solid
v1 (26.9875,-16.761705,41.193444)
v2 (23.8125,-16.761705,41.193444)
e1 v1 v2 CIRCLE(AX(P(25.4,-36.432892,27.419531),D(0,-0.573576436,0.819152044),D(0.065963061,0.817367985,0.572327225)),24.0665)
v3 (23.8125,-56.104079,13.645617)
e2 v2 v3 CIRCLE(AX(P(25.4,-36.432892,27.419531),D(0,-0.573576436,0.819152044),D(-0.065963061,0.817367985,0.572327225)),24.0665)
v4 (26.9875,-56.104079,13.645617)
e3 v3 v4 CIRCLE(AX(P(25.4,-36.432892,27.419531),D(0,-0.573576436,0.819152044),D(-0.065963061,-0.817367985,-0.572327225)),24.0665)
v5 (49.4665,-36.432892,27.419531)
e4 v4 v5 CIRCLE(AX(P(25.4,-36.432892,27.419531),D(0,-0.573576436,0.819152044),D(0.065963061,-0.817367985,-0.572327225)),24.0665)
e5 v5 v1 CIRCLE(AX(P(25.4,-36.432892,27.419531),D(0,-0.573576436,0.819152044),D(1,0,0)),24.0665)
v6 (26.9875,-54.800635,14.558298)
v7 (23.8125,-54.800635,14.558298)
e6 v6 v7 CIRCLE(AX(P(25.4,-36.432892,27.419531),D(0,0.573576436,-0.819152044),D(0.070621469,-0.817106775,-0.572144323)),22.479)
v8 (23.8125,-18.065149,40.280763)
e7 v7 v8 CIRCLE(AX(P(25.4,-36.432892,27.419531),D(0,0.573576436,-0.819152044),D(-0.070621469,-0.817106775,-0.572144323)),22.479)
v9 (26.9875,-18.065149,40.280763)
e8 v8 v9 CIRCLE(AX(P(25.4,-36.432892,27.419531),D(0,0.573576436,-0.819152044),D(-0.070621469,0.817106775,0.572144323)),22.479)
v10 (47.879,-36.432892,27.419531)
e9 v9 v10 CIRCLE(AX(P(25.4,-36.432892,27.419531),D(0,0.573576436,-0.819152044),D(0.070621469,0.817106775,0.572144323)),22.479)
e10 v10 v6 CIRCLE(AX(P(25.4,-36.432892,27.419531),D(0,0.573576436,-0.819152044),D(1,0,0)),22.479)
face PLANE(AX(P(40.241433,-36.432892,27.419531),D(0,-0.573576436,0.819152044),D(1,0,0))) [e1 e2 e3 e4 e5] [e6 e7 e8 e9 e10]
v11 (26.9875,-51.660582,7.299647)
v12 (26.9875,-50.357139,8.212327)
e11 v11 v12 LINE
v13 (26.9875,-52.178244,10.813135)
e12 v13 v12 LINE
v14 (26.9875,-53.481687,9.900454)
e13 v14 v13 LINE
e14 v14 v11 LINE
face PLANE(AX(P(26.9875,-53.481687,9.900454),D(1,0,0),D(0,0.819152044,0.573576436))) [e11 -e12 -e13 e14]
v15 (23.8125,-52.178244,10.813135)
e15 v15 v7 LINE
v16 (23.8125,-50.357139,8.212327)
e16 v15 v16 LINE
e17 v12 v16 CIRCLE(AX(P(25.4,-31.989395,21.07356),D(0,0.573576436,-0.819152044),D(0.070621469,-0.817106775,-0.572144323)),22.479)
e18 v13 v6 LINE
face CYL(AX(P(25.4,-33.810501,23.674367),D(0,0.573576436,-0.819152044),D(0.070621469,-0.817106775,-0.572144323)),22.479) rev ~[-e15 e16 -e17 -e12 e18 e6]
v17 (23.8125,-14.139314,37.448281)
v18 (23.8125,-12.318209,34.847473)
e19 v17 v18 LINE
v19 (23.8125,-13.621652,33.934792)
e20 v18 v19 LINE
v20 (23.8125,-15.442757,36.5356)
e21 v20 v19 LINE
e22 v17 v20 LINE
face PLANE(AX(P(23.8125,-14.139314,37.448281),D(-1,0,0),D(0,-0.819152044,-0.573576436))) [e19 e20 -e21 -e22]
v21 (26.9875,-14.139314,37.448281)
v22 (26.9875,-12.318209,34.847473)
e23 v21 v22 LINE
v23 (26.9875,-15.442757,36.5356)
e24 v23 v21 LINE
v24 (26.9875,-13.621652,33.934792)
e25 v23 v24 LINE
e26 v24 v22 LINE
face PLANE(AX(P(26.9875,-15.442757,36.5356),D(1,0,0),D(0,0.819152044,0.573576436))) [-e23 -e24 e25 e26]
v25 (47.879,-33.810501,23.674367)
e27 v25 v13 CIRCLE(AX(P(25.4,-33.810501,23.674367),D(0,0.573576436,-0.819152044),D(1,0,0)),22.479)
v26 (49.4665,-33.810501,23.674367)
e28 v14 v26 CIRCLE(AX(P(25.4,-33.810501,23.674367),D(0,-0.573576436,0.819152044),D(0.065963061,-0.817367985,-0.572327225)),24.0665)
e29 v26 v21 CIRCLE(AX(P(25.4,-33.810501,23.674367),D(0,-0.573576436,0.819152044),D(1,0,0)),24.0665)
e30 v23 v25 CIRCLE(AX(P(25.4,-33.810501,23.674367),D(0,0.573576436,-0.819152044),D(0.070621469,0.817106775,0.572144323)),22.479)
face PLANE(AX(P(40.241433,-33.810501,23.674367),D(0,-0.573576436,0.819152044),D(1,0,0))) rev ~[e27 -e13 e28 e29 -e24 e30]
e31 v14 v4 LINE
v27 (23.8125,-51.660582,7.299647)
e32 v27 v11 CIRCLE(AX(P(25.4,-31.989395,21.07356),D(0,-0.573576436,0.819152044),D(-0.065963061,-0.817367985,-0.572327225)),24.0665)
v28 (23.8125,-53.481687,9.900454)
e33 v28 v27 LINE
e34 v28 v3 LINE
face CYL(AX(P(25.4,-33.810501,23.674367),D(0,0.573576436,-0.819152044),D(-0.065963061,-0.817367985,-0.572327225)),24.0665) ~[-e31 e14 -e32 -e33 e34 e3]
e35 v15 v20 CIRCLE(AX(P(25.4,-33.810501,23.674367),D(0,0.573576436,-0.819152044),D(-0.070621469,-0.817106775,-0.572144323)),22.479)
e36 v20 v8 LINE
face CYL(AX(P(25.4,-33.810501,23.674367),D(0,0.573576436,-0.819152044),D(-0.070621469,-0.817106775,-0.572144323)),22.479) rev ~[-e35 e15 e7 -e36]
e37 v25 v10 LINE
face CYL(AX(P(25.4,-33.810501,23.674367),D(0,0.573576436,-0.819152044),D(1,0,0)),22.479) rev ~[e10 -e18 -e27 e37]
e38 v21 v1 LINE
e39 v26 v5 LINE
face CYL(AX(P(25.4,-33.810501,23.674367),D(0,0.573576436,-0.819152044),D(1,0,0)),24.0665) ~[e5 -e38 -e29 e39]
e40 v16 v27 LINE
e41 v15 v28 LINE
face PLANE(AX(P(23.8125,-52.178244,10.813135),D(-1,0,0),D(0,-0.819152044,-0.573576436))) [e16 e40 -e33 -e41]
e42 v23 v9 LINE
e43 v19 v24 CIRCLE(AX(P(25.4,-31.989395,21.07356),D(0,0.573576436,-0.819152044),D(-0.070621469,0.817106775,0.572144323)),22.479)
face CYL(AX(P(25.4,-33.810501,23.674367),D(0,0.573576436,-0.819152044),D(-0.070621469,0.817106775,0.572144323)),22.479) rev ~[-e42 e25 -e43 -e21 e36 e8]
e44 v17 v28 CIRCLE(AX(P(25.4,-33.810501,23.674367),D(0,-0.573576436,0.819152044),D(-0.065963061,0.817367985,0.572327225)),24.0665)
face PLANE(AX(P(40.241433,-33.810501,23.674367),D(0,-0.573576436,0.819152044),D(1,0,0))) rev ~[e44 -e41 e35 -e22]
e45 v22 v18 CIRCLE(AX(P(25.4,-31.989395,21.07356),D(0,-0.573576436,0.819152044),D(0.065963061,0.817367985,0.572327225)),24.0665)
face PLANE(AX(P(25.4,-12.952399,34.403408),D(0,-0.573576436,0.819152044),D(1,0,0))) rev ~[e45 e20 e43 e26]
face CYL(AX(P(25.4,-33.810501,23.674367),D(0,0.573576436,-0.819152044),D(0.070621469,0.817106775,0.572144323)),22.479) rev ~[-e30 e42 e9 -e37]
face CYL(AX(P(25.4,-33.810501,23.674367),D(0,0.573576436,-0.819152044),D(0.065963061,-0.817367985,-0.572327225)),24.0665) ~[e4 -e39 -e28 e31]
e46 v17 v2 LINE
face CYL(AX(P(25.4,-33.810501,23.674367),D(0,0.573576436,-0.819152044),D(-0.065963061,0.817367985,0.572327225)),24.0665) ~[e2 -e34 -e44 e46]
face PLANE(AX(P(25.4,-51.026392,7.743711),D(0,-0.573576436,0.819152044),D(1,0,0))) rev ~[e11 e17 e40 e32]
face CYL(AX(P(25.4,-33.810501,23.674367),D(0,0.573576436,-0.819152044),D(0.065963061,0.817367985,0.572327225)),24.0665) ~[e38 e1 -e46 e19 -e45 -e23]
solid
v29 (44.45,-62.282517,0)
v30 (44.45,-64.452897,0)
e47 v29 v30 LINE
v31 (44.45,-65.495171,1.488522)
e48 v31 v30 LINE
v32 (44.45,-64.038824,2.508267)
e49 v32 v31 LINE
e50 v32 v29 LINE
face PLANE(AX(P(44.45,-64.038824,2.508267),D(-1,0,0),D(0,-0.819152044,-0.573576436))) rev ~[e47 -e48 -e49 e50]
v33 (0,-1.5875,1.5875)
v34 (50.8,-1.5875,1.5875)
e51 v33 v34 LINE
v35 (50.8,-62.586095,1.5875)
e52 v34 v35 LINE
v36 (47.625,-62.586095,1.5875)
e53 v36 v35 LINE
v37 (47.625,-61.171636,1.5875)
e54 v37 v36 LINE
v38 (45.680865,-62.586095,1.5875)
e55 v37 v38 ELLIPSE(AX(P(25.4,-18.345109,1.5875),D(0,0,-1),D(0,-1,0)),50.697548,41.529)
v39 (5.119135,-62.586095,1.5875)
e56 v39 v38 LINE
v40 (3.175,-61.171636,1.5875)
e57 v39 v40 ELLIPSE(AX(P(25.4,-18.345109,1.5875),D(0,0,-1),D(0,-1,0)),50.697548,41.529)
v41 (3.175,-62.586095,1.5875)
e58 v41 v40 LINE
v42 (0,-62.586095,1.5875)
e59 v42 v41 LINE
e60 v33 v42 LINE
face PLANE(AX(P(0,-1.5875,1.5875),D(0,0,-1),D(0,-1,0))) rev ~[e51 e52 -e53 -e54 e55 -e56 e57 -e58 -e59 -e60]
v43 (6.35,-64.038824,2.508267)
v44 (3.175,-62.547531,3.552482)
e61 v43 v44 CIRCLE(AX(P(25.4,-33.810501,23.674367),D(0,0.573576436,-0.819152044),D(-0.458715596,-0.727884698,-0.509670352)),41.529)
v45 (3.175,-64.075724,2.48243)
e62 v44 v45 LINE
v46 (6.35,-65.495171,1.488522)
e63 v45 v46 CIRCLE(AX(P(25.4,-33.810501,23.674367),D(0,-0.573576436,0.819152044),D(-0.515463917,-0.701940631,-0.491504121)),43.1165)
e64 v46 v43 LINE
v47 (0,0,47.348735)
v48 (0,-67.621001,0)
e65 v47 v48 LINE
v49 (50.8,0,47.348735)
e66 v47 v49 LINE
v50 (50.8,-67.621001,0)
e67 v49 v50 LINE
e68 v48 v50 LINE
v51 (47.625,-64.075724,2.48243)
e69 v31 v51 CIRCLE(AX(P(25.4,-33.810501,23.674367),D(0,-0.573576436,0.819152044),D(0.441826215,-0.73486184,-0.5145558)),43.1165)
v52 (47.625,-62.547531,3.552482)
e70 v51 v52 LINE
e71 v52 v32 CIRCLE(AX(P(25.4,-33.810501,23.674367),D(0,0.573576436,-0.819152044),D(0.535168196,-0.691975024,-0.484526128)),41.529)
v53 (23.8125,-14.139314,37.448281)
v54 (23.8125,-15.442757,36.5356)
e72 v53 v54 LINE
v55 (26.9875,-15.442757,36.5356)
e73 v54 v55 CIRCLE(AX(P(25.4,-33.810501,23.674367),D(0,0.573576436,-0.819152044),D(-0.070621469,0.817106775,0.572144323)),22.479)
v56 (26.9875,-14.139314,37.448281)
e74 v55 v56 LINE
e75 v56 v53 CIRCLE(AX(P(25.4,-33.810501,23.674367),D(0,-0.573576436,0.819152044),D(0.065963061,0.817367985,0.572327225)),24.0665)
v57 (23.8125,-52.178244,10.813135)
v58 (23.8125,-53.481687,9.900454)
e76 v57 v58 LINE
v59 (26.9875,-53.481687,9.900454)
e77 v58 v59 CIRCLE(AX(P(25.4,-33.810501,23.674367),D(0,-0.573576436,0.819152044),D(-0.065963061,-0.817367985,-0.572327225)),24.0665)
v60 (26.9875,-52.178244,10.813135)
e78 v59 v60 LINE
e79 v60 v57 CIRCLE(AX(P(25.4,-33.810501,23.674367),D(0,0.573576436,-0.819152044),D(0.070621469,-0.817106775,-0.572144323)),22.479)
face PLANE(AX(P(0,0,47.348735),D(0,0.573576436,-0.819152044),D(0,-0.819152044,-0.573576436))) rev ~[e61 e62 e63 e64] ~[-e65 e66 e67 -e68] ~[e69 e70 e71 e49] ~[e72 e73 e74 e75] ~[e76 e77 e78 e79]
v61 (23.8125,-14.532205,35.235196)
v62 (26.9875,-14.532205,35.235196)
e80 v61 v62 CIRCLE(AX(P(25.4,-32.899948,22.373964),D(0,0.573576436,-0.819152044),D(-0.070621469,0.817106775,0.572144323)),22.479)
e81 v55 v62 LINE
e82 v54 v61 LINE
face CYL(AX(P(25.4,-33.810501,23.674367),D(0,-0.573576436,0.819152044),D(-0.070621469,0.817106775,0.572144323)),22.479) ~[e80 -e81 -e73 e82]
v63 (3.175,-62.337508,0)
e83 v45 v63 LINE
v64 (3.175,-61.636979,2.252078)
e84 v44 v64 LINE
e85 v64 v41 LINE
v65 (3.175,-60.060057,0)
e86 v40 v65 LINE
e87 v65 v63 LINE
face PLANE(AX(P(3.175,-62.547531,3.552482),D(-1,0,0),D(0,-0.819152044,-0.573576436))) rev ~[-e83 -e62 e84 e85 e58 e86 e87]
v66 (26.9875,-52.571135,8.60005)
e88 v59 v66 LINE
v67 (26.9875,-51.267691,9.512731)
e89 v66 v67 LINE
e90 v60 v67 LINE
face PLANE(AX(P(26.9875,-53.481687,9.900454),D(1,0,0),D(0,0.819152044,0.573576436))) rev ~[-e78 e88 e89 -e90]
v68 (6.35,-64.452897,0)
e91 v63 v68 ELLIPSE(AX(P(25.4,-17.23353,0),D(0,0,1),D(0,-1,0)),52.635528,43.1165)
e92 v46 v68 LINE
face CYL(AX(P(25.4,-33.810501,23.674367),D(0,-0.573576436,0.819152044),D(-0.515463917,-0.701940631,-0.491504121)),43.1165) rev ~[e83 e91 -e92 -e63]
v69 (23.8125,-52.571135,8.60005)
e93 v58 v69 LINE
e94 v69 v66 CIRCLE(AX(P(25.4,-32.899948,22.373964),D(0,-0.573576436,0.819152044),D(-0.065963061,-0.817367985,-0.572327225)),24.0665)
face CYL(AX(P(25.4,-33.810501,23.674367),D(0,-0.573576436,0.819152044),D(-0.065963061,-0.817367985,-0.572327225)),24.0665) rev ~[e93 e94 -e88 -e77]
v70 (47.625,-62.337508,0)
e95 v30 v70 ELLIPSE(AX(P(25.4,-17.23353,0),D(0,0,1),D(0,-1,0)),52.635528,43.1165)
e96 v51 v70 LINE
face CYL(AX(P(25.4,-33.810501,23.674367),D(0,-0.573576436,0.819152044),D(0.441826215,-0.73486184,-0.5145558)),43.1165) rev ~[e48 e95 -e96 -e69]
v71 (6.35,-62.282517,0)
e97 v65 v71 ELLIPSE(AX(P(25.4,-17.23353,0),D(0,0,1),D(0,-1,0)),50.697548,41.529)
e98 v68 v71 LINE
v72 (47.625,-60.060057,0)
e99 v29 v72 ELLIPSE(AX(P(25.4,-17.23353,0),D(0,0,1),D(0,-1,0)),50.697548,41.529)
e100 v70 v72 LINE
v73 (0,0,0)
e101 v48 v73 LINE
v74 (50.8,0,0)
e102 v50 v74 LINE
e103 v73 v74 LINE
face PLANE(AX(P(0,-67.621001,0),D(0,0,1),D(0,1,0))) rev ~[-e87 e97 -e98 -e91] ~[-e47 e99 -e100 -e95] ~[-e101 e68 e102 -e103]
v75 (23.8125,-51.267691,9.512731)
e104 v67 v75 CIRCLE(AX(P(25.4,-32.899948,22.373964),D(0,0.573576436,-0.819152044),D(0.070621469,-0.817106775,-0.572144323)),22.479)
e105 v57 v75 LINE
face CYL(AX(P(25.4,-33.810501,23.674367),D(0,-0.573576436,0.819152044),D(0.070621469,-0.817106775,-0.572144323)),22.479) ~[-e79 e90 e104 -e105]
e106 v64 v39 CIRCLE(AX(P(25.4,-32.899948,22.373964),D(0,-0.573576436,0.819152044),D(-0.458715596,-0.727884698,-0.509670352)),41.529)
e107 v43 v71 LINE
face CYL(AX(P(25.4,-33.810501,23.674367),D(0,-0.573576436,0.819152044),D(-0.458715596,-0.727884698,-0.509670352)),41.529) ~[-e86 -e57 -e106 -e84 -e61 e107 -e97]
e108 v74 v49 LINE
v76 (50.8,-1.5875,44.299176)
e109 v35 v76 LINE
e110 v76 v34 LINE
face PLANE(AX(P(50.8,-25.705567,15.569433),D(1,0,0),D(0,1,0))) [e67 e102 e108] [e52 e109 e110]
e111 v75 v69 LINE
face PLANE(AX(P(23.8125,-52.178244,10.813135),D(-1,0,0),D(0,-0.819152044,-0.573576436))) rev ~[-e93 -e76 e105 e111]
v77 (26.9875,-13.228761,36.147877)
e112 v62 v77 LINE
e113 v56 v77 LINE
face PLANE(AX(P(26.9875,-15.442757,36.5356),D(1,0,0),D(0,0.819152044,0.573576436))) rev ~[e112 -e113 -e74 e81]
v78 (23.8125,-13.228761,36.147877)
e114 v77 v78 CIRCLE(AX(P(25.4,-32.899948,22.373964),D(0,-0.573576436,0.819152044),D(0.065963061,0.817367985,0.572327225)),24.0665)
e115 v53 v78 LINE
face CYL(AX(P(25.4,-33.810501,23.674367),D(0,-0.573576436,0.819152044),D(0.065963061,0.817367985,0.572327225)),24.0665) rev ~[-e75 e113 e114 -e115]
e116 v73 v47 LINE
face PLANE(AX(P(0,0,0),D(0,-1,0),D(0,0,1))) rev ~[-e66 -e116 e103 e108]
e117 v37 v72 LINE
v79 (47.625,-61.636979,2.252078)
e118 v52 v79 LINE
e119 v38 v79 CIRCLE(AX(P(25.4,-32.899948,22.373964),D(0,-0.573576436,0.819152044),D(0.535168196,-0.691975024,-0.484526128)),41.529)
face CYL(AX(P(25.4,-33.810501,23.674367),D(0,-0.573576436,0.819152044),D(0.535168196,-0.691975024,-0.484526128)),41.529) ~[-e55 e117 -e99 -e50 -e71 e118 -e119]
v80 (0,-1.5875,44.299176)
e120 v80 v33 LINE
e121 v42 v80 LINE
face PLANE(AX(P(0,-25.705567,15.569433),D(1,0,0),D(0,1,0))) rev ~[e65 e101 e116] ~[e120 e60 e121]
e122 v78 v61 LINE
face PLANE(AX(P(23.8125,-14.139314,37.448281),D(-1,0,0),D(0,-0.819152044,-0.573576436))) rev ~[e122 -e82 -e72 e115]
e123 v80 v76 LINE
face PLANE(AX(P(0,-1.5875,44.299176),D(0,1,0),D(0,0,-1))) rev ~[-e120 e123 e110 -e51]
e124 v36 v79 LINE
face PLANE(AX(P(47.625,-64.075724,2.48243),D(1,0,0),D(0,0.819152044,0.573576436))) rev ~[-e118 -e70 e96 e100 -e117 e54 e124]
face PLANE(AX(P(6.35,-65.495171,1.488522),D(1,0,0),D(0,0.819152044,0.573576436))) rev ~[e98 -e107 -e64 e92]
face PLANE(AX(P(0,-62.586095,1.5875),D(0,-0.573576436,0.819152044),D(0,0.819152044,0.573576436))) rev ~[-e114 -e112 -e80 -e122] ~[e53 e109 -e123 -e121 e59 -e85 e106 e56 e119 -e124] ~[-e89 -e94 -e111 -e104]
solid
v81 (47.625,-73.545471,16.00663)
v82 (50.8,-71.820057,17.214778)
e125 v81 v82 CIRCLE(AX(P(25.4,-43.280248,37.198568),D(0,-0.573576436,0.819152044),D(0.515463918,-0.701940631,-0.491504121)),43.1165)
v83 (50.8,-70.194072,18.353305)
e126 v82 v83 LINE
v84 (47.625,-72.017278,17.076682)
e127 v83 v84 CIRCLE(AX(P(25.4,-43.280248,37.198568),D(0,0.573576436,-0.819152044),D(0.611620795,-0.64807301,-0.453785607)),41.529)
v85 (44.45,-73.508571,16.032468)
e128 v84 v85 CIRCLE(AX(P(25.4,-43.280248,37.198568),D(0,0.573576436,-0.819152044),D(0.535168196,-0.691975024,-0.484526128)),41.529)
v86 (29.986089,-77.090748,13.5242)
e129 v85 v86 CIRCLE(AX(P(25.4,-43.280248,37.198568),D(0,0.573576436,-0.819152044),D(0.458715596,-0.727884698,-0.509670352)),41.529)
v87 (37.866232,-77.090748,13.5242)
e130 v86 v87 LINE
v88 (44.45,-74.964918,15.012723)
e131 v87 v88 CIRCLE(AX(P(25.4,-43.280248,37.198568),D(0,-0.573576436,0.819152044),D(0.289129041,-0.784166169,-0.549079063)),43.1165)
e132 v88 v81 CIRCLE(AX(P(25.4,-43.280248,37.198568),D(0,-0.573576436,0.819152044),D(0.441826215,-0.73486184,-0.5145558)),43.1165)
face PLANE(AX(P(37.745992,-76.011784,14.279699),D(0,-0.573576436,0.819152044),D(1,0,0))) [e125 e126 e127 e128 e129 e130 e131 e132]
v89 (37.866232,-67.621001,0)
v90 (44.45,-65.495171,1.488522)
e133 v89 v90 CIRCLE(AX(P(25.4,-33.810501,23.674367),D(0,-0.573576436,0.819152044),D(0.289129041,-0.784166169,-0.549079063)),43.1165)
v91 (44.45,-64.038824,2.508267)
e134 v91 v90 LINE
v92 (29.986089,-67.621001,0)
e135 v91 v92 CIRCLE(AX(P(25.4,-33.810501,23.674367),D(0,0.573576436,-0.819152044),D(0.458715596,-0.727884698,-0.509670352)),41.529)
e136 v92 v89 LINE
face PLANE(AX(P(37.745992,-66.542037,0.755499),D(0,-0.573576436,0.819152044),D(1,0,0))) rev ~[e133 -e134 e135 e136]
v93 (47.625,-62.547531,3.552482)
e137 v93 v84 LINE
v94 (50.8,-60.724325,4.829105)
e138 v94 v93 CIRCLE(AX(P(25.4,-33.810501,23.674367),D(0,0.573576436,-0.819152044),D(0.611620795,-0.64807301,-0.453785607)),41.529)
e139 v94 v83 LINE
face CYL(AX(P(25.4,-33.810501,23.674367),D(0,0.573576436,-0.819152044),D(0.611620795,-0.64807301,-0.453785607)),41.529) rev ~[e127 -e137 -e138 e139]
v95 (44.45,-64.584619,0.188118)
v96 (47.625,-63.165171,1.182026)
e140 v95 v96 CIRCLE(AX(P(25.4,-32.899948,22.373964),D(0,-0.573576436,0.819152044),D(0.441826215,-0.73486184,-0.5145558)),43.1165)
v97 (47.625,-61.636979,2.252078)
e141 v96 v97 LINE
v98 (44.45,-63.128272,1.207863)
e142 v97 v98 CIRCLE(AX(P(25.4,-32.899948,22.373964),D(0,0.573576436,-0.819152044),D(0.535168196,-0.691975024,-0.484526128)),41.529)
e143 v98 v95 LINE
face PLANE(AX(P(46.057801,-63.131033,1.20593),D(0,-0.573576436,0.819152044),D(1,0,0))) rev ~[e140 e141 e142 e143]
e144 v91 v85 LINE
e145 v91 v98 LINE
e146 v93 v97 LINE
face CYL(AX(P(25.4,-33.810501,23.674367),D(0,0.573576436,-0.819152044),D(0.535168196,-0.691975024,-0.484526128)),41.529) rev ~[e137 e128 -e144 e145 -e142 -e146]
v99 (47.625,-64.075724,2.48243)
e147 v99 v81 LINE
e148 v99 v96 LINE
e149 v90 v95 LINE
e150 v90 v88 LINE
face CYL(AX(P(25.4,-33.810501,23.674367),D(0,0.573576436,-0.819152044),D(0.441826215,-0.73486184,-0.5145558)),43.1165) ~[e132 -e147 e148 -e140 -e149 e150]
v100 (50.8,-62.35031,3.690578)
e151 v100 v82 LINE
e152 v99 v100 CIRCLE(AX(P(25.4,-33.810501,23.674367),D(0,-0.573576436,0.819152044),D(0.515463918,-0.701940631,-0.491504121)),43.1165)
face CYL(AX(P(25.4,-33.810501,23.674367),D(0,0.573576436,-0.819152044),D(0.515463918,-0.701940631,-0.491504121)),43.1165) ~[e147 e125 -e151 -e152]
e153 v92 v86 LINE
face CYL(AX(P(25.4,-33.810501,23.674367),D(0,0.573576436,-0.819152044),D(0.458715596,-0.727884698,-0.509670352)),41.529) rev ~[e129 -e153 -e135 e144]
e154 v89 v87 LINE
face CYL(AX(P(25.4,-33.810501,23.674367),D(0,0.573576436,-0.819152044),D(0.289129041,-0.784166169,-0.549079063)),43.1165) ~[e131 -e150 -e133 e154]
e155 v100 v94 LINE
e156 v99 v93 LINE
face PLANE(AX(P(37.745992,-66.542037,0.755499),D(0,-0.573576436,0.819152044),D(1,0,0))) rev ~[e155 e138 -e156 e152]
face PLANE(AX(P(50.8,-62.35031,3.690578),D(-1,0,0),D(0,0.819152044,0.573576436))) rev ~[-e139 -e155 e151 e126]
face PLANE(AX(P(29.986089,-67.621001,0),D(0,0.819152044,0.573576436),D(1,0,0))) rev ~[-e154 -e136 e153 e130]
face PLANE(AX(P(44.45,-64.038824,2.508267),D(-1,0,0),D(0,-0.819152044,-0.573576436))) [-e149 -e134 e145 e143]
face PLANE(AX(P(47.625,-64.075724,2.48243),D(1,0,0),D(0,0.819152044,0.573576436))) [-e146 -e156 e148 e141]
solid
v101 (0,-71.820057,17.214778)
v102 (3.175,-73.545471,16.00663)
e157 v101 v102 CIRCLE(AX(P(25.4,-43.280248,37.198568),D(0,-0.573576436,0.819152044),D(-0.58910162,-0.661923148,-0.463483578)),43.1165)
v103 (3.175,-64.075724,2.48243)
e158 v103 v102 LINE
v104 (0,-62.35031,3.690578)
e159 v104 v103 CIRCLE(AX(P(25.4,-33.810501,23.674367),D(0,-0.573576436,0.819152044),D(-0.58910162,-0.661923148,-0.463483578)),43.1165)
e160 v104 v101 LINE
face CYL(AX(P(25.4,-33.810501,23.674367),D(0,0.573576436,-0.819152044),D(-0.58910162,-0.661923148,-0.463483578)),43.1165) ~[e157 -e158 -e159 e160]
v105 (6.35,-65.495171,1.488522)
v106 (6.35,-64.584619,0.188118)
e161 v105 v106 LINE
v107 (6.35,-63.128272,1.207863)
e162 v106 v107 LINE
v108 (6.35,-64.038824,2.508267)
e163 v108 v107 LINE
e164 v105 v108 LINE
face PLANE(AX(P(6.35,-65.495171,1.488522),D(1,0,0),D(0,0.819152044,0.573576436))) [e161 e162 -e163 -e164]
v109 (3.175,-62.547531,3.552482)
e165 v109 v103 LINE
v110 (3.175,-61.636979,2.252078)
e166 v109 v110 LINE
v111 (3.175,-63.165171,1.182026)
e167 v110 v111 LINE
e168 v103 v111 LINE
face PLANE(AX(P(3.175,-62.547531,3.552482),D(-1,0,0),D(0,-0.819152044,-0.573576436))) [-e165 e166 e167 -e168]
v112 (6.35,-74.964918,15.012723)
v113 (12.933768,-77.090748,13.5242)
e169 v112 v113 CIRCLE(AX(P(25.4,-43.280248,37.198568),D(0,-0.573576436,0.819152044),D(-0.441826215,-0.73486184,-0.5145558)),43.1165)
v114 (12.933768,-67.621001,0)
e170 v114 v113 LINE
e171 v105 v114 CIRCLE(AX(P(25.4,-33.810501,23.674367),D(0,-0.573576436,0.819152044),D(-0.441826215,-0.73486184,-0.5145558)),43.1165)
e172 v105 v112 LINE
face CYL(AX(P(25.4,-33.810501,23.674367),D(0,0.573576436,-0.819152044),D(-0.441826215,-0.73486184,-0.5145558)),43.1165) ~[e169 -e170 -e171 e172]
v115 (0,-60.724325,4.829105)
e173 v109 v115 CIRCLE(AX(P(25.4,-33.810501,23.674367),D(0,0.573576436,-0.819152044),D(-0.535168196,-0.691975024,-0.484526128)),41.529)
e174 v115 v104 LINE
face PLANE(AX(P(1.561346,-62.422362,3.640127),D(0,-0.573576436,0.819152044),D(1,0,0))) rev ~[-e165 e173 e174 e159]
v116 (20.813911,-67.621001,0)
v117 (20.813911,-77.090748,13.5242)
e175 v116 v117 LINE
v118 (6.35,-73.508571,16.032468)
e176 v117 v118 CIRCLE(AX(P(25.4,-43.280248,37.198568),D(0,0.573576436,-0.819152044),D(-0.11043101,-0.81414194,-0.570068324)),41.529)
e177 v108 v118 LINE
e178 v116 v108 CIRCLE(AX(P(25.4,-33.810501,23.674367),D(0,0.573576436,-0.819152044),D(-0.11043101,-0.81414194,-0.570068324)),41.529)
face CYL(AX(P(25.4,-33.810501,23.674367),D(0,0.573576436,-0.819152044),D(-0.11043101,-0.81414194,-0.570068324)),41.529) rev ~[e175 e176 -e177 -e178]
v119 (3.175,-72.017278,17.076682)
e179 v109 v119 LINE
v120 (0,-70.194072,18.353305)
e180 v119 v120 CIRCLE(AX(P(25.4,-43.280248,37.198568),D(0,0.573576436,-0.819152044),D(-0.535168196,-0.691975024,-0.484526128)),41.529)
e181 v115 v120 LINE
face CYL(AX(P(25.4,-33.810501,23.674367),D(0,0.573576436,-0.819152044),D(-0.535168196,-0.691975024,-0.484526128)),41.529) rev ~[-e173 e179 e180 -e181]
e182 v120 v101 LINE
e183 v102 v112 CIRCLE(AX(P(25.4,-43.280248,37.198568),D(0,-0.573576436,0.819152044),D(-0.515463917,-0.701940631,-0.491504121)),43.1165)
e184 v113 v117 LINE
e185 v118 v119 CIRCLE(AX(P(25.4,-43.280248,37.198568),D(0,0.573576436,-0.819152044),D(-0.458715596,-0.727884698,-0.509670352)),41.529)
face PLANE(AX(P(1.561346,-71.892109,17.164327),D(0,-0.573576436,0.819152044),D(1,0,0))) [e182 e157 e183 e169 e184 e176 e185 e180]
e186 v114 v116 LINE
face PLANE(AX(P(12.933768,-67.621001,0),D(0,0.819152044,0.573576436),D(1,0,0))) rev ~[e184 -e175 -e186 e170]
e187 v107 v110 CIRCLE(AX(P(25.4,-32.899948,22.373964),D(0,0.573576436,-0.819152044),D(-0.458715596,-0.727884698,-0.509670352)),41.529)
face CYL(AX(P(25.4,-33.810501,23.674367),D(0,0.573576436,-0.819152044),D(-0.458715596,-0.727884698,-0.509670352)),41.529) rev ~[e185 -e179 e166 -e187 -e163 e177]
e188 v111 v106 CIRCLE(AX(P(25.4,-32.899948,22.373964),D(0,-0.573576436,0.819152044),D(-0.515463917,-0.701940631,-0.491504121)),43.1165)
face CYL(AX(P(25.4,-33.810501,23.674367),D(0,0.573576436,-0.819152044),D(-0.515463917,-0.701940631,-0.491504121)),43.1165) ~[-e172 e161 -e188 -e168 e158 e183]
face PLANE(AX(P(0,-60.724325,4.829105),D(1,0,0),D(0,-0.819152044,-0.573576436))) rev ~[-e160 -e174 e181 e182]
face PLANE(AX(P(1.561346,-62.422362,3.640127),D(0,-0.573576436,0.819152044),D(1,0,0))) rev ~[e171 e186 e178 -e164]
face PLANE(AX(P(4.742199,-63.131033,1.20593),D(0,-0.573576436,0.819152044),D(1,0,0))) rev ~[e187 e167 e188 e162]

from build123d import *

# Parameters (mm, degrees)
F1_DEPTH = 50.8
F3_DEPTH = 1.5875
F4_DEPTH = 3.175
F5_DEPTH = 4.572
F6_DEPTH = 4.3377795607
F7_DEPTH = 1.5875
F8_DEPTH = 16.51


with BuildPart() as f1:
    # F0 (on Right) → F1 (new body)
    with BuildSketch(Plane.YZ):
        Polygon((-67.6210012561, 0), (0, 0), (0, 47.3487348208), align=None)
        Polygon((-62.5860945073, 1.5875), (-1.5875, 44.2991756942), (-1.5875, 1.5875), align=None, mode=Mode.SUBTRACT)
    extrude(amount=F1_DEPTH)

    # F2 (on face) → F3 (cut, through all)
    with BuildSketch(Plane(origin=(0, -22.2466283573, 31.7714779452), x_dir=(1, 0, 0), z_dir=(0, -0.5735764364, 0.8191520443))):
        with BuildLine():
            Line((26.9875, -38.1309661579), (26.9875, -36.5397555569))
            ThreePointArc((26.9875, -36.5397555569), (25.4, -36.5958814158), (23.8125, -36.5397555569))
            Line((23.8125, -36.5397555569), (23.8125, -38.1309661579))
            ThreePointArc((23.8125, -38.1309661579), (25.4, -38.1833814158), (26.9875, -38.1309661579))
        make_face()
        with BuildLine():
            ThreePointArc((23.8125, 8.3059927254), (25.4, 8.3621185842), (26.9875, 8.3059927254))
            Line((26.9875, 8.3059927254), (26.9875, 9.8972033263))
            ThreePointArc((26.9875, 9.8972033263), (25.4, 9.9496185842), (23.8125, 9.8972033263))
            Line((23.8125, 9.8972033263), (23.8125, 8.3059927254))
        make_face()
    extrude(amount=-F3_DEPTH, mode=Mode.SUBTRACT)

    # F2 (on face) → F6 (cut, through all)
    with BuildSketch(Plane(origin=(0, -22.2466283573, 31.7714779452), x_dir=(1, 0, 0), z_dir=(0, -0.5735764364, 0.8191520443))):
        with BuildLine():
            ThreePointArc((47.625, -49.1983183305), (46.0575649781, -50.1435777696), (44.45, -51.0188507535))
            Line((44.45, -51.0188507535), (44.45, -52.7967220598))
            ThreePointArc((44.45, -52.7967220598), (46.0556790515, -51.9636183315), (47.625, -51.0638968196))
            Line((47.625, -51.0638968196), (47.625, -49.1983183305))
        make_face()
        with BuildLine():
            ThreePointArc((6.35, -51.0188507535), (4.7424350219, -50.1435777696), (3.175, -49.1983183305))
            Line((3.175, -49.1983183305), (3.175, -51.0638968196))
            ThreePointArc((3.175, -51.0638968196), (4.7443209485, -51.9636183315), (6.35, -52.7967220598))
            Line((6.35, -52.7967220598), (6.35, -51.0188507535))
        make_face()
    extrude(amount=-F6_DEPTH, mode=Mode.SUBTRACT)


with BuildPart() as f4:
    # F2 (on face) → F4 (new body)
    with BuildSketch(Plane(origin=(0, -22.2466283573, 31.7714779452), x_dir=(1, 0, 0), z_dir=(0, -0.5735764364, 0.8191520443))):
        with BuildLine():
            ThreePointArc((23.8125, 8.3059927254), (25.4, 8.3621185842), (26.9875, 8.3059927254))
            Line((26.9875, 8.3059927254), (26.9875, 9.8972033263))
            ThreePointArc((26.9875, 9.8972033263), (25.4, 9.9496185842), (23.8125, 9.8972033263))
            Line((23.8125, 9.8972033263), (23.8125, 8.3059927254))
        make_face()
    extrude(amount=-F4_DEPTH)



with BuildPart() as f4b:
    # F2 (on face) → F4, piece 2 (new body)
    with BuildSketch(Plane(origin=(0, -22.2466283573, 31.7714779452), x_dir=(1, 0, 0), z_dir=(0, -0.5735764364, 0.8191520443))):
        with BuildLine():
            Line((26.9875, -38.1309661579), (26.9875, -36.5397555569))
            ThreePointArc((26.9875, -36.5397555569), (25.4, -36.5958814158), (23.8125, -36.5397555569))
            Line((23.8125, -36.5397555569), (23.8125, -38.1309661579))
            ThreePointArc((23.8125, -38.1309661579), (25.4, -38.1833814158), (26.9875, -38.1309661579))
        make_face()
    extrude(amount=-F4_DEPTH)


with BuildPart() as f4_1:
    add(f4.part)

    add(f4b.part)  # F5 merges F4b
    # F2 (on face) → F5 (join)
    with BuildSketch(Plane(origin=(0, -22.2466283573, 31.7714779452), x_dir=(1, 0, 0), z_dir=(0, -0.5735764364, 0.8191520443))):
        with BuildLine():
            ThreePointArc((26.9875, 8.3059927254), (41.8467451719, 1.2066303962), (47.879, -14.1168814158))
            ThreePointArc((47.879, -14.1168814158), (41.8467451719, -29.4403932277), (26.9875, -36.5397555569))
            Line((26.9875, -36.5397555569), (26.9875, -38.1309661579))
            ThreePointArc((26.9875, -38.1309661579), (42.969888887, -30.5636265877), (49.4665, -14.1168814158))
            ThreePointArc((49.4665, -14.1168814158), (42.969888887, 2.3298637562), (26.9875, 9.8972033263))
            Line((26.9875, 9.8972033263), (26.9875, 8.3059927254))
        make_face()
        with BuildLine():
            Line((26.9875, -38.1309661579), (26.9875, -36.5397555569))
            ThreePointArc((26.9875, -36.5397555569), (25.4, -36.5958814158), (23.8125, -36.5397555569))
            Line((23.8125, -36.5397555569), (23.8125, -38.1309661579))
            ThreePointArc((23.8125, -38.1309661579), (25.4, -38.1833814158), (26.9875, -38.1309661579))
        make_face()
        with BuildLine():
            ThreePointArc((23.8125, -36.5397555569), (2.921, -14.1168814158), (23.8125, 8.3059927254))
            Line((23.8125, 8.3059927254), (23.8125, 9.8972033263))
            ThreePointArc((23.8125, 9.8972033263), (1.3335, -14.1168814158), (23.8125, -38.1309661579))
            Line((23.8125, -38.1309661579), (23.8125, -36.5397555569))
        make_face()
        with BuildLine():
            ThreePointArc((23.8125, 8.3059927254), (25.4, 8.3621185842), (26.9875, 8.3059927254))
            Line((26.9875, 8.3059927254), (26.9875, 9.8972033263))
            ThreePointArc((26.9875, 9.8972033263), (25.4, 9.9496185842), (23.8125, 9.8972033263))
            Line((23.8125, 9.8972033263), (23.8125, 8.3059927254))
        make_face()
    extrude(amount=F5_DEPTH)


with BuildPart() as f7:
    # F2 (on face) → F7 (new body)
    with BuildSketch(Plane(origin=(0, -22.2466283573, 31.7714779452), x_dir=(1, 0, 0), z_dir=(0, -0.5735764364, 0.8191520443))):
        with BuildLine():
            ThreePointArc((47.625, -49.1983183305), (46.0575649781, -50.1435777696), (44.45, -51.0188507535))
            Line((44.45, -51.0188507535), (44.45, -52.7967220598))
            ThreePointArc((44.45, -52.7967220598), (46.0556790515, -51.9636183315), (47.625, -51.0638968196))
            Line((47.625, -51.0638968196), (47.625, -49.1983183305))
        make_face()
    extrude(amount=-F7_DEPTH)



with BuildPart() as f7b:
    # F2 (on face) → F7, piece 2 (new body)
    with BuildSketch(Plane(origin=(0, -22.2466283573, 31.7714779452), x_dir=(1, 0, 0), z_dir=(0, -0.5735764364, 0.8191520443))):
        with BuildLine():
            ThreePointArc((6.35, -51.0188507535), (4.7424350219, -50.1435777696), (3.175, -49.1983183305))
            Line((3.175, -49.1983183305), (3.175, -51.0638968196))
            ThreePointArc((3.175, -51.0638968196), (4.7443209485, -51.9636183315), (6.35, -52.7967220598))
            Line((6.35, -52.7967220598), (6.35, -51.0188507535))
        make_face()
    extrude(amount=-F7_DEPTH)


with BuildPart() as f7_1:
    add(f7.part)

    add(f7b.part)  # F8 merges F7b
    # F2 (on face) → F8 (join)
    with BuildSketch(Plane(origin=(0, -22.2466283573, 31.7714779452), x_dir=(1, 0, 0), z_dir=(0, -0.5735764364, 0.8191520443))):
        with BuildLine():
            ThreePointArc((3.175, -49.1983183305), (1.561509725, -48.1225312759), (0, -46.9725938719))
            Line((0, -46.9725938719), (0, -48.9575555231))
            ThreePointArc((0, -48.9575555231), (1.5642217525, -50.0458147089), (3.175, -51.0638968196))
            Line((3.175, -51.0638968196), (3.175, -49.1983183305))
        make_face()
        with BuildLine():
            ThreePointArc((6.35, -51.0188507535), (4.7424350219, -50.1435777696), (3.175, -49.1983183305))
            Line((3.175, -49.1983183305), (3.175, -51.0638968196))
            ThreePointArc((3.175, -51.0638968196), (4.7443209485, -51.9636183315), (6.35, -52.7967220598))
            Line((6.35, -52.7967220598), (6.35, -51.0188507535))
        make_face()
        with BuildLine():
            ThreePointArc((20.8139105983, -55.3918814158), (13.3813881898, -53.8687469211), (6.35, -51.0188507535))
            Line((6.35, -51.0188507535), (6.35, -52.7967220598))
            ThreePointArc((6.35, -52.7967220598), (9.5885504366, -54.2296055186), (12.9337677204, -55.3918814158))
            Line((12.9337677204, -55.3918814158), (20.8139105983, -55.3918814158))
        make_face()
        with BuildLine():
            ThreePointArc((44.45, -51.0188507535), (37.4186118102, -53.8687469211), (29.9860894017, -55.3918814158))
            Line((29.9860894017, -55.3918814158), (37.8662322796, -55.3918814158))
            ThreePointArc((37.8662322796, -55.3918814158), (41.2114495634, -54.2296055186), (44.45, -52.7967220598))
            Line((44.45, -52.7967220598), (44.45, -51.0188507535))
        make_face()
        with BuildLine():
            ThreePointArc((47.625, -49.1983183305), (46.0575649781, -50.1435777696), (44.45, -51.0188507535))
            Line((44.45, -51.0188507535), (44.45, -52.7967220598))
            ThreePointArc((44.45, -52.7967220598), (46.0556790515, -51.9636183315), (47.625, -51.0638968196))
            Line((47.625, -51.0638968196), (47.625, -49.1983183305))
        make_face()
        with BuildLine():
            Line((50.8, -48.9575555231), (50.8, -46.9725938719))
            ThreePointArc((50.8, -46.9725938719), (49.238490275, -48.1225312759), (47.625, -49.1983183305))
            Line((47.625, -49.1983183305), (47.625, -51.0638968196))
            ThreePointArc((47.625, -51.0638968196), (49.2357782475, -50.0458147089), (50.8, -48.9575555231))
        make_face()
    extrude(amount=F8_DEPTH)


solid = Compound([f1.part, f4_1.part, f7_1.part])
